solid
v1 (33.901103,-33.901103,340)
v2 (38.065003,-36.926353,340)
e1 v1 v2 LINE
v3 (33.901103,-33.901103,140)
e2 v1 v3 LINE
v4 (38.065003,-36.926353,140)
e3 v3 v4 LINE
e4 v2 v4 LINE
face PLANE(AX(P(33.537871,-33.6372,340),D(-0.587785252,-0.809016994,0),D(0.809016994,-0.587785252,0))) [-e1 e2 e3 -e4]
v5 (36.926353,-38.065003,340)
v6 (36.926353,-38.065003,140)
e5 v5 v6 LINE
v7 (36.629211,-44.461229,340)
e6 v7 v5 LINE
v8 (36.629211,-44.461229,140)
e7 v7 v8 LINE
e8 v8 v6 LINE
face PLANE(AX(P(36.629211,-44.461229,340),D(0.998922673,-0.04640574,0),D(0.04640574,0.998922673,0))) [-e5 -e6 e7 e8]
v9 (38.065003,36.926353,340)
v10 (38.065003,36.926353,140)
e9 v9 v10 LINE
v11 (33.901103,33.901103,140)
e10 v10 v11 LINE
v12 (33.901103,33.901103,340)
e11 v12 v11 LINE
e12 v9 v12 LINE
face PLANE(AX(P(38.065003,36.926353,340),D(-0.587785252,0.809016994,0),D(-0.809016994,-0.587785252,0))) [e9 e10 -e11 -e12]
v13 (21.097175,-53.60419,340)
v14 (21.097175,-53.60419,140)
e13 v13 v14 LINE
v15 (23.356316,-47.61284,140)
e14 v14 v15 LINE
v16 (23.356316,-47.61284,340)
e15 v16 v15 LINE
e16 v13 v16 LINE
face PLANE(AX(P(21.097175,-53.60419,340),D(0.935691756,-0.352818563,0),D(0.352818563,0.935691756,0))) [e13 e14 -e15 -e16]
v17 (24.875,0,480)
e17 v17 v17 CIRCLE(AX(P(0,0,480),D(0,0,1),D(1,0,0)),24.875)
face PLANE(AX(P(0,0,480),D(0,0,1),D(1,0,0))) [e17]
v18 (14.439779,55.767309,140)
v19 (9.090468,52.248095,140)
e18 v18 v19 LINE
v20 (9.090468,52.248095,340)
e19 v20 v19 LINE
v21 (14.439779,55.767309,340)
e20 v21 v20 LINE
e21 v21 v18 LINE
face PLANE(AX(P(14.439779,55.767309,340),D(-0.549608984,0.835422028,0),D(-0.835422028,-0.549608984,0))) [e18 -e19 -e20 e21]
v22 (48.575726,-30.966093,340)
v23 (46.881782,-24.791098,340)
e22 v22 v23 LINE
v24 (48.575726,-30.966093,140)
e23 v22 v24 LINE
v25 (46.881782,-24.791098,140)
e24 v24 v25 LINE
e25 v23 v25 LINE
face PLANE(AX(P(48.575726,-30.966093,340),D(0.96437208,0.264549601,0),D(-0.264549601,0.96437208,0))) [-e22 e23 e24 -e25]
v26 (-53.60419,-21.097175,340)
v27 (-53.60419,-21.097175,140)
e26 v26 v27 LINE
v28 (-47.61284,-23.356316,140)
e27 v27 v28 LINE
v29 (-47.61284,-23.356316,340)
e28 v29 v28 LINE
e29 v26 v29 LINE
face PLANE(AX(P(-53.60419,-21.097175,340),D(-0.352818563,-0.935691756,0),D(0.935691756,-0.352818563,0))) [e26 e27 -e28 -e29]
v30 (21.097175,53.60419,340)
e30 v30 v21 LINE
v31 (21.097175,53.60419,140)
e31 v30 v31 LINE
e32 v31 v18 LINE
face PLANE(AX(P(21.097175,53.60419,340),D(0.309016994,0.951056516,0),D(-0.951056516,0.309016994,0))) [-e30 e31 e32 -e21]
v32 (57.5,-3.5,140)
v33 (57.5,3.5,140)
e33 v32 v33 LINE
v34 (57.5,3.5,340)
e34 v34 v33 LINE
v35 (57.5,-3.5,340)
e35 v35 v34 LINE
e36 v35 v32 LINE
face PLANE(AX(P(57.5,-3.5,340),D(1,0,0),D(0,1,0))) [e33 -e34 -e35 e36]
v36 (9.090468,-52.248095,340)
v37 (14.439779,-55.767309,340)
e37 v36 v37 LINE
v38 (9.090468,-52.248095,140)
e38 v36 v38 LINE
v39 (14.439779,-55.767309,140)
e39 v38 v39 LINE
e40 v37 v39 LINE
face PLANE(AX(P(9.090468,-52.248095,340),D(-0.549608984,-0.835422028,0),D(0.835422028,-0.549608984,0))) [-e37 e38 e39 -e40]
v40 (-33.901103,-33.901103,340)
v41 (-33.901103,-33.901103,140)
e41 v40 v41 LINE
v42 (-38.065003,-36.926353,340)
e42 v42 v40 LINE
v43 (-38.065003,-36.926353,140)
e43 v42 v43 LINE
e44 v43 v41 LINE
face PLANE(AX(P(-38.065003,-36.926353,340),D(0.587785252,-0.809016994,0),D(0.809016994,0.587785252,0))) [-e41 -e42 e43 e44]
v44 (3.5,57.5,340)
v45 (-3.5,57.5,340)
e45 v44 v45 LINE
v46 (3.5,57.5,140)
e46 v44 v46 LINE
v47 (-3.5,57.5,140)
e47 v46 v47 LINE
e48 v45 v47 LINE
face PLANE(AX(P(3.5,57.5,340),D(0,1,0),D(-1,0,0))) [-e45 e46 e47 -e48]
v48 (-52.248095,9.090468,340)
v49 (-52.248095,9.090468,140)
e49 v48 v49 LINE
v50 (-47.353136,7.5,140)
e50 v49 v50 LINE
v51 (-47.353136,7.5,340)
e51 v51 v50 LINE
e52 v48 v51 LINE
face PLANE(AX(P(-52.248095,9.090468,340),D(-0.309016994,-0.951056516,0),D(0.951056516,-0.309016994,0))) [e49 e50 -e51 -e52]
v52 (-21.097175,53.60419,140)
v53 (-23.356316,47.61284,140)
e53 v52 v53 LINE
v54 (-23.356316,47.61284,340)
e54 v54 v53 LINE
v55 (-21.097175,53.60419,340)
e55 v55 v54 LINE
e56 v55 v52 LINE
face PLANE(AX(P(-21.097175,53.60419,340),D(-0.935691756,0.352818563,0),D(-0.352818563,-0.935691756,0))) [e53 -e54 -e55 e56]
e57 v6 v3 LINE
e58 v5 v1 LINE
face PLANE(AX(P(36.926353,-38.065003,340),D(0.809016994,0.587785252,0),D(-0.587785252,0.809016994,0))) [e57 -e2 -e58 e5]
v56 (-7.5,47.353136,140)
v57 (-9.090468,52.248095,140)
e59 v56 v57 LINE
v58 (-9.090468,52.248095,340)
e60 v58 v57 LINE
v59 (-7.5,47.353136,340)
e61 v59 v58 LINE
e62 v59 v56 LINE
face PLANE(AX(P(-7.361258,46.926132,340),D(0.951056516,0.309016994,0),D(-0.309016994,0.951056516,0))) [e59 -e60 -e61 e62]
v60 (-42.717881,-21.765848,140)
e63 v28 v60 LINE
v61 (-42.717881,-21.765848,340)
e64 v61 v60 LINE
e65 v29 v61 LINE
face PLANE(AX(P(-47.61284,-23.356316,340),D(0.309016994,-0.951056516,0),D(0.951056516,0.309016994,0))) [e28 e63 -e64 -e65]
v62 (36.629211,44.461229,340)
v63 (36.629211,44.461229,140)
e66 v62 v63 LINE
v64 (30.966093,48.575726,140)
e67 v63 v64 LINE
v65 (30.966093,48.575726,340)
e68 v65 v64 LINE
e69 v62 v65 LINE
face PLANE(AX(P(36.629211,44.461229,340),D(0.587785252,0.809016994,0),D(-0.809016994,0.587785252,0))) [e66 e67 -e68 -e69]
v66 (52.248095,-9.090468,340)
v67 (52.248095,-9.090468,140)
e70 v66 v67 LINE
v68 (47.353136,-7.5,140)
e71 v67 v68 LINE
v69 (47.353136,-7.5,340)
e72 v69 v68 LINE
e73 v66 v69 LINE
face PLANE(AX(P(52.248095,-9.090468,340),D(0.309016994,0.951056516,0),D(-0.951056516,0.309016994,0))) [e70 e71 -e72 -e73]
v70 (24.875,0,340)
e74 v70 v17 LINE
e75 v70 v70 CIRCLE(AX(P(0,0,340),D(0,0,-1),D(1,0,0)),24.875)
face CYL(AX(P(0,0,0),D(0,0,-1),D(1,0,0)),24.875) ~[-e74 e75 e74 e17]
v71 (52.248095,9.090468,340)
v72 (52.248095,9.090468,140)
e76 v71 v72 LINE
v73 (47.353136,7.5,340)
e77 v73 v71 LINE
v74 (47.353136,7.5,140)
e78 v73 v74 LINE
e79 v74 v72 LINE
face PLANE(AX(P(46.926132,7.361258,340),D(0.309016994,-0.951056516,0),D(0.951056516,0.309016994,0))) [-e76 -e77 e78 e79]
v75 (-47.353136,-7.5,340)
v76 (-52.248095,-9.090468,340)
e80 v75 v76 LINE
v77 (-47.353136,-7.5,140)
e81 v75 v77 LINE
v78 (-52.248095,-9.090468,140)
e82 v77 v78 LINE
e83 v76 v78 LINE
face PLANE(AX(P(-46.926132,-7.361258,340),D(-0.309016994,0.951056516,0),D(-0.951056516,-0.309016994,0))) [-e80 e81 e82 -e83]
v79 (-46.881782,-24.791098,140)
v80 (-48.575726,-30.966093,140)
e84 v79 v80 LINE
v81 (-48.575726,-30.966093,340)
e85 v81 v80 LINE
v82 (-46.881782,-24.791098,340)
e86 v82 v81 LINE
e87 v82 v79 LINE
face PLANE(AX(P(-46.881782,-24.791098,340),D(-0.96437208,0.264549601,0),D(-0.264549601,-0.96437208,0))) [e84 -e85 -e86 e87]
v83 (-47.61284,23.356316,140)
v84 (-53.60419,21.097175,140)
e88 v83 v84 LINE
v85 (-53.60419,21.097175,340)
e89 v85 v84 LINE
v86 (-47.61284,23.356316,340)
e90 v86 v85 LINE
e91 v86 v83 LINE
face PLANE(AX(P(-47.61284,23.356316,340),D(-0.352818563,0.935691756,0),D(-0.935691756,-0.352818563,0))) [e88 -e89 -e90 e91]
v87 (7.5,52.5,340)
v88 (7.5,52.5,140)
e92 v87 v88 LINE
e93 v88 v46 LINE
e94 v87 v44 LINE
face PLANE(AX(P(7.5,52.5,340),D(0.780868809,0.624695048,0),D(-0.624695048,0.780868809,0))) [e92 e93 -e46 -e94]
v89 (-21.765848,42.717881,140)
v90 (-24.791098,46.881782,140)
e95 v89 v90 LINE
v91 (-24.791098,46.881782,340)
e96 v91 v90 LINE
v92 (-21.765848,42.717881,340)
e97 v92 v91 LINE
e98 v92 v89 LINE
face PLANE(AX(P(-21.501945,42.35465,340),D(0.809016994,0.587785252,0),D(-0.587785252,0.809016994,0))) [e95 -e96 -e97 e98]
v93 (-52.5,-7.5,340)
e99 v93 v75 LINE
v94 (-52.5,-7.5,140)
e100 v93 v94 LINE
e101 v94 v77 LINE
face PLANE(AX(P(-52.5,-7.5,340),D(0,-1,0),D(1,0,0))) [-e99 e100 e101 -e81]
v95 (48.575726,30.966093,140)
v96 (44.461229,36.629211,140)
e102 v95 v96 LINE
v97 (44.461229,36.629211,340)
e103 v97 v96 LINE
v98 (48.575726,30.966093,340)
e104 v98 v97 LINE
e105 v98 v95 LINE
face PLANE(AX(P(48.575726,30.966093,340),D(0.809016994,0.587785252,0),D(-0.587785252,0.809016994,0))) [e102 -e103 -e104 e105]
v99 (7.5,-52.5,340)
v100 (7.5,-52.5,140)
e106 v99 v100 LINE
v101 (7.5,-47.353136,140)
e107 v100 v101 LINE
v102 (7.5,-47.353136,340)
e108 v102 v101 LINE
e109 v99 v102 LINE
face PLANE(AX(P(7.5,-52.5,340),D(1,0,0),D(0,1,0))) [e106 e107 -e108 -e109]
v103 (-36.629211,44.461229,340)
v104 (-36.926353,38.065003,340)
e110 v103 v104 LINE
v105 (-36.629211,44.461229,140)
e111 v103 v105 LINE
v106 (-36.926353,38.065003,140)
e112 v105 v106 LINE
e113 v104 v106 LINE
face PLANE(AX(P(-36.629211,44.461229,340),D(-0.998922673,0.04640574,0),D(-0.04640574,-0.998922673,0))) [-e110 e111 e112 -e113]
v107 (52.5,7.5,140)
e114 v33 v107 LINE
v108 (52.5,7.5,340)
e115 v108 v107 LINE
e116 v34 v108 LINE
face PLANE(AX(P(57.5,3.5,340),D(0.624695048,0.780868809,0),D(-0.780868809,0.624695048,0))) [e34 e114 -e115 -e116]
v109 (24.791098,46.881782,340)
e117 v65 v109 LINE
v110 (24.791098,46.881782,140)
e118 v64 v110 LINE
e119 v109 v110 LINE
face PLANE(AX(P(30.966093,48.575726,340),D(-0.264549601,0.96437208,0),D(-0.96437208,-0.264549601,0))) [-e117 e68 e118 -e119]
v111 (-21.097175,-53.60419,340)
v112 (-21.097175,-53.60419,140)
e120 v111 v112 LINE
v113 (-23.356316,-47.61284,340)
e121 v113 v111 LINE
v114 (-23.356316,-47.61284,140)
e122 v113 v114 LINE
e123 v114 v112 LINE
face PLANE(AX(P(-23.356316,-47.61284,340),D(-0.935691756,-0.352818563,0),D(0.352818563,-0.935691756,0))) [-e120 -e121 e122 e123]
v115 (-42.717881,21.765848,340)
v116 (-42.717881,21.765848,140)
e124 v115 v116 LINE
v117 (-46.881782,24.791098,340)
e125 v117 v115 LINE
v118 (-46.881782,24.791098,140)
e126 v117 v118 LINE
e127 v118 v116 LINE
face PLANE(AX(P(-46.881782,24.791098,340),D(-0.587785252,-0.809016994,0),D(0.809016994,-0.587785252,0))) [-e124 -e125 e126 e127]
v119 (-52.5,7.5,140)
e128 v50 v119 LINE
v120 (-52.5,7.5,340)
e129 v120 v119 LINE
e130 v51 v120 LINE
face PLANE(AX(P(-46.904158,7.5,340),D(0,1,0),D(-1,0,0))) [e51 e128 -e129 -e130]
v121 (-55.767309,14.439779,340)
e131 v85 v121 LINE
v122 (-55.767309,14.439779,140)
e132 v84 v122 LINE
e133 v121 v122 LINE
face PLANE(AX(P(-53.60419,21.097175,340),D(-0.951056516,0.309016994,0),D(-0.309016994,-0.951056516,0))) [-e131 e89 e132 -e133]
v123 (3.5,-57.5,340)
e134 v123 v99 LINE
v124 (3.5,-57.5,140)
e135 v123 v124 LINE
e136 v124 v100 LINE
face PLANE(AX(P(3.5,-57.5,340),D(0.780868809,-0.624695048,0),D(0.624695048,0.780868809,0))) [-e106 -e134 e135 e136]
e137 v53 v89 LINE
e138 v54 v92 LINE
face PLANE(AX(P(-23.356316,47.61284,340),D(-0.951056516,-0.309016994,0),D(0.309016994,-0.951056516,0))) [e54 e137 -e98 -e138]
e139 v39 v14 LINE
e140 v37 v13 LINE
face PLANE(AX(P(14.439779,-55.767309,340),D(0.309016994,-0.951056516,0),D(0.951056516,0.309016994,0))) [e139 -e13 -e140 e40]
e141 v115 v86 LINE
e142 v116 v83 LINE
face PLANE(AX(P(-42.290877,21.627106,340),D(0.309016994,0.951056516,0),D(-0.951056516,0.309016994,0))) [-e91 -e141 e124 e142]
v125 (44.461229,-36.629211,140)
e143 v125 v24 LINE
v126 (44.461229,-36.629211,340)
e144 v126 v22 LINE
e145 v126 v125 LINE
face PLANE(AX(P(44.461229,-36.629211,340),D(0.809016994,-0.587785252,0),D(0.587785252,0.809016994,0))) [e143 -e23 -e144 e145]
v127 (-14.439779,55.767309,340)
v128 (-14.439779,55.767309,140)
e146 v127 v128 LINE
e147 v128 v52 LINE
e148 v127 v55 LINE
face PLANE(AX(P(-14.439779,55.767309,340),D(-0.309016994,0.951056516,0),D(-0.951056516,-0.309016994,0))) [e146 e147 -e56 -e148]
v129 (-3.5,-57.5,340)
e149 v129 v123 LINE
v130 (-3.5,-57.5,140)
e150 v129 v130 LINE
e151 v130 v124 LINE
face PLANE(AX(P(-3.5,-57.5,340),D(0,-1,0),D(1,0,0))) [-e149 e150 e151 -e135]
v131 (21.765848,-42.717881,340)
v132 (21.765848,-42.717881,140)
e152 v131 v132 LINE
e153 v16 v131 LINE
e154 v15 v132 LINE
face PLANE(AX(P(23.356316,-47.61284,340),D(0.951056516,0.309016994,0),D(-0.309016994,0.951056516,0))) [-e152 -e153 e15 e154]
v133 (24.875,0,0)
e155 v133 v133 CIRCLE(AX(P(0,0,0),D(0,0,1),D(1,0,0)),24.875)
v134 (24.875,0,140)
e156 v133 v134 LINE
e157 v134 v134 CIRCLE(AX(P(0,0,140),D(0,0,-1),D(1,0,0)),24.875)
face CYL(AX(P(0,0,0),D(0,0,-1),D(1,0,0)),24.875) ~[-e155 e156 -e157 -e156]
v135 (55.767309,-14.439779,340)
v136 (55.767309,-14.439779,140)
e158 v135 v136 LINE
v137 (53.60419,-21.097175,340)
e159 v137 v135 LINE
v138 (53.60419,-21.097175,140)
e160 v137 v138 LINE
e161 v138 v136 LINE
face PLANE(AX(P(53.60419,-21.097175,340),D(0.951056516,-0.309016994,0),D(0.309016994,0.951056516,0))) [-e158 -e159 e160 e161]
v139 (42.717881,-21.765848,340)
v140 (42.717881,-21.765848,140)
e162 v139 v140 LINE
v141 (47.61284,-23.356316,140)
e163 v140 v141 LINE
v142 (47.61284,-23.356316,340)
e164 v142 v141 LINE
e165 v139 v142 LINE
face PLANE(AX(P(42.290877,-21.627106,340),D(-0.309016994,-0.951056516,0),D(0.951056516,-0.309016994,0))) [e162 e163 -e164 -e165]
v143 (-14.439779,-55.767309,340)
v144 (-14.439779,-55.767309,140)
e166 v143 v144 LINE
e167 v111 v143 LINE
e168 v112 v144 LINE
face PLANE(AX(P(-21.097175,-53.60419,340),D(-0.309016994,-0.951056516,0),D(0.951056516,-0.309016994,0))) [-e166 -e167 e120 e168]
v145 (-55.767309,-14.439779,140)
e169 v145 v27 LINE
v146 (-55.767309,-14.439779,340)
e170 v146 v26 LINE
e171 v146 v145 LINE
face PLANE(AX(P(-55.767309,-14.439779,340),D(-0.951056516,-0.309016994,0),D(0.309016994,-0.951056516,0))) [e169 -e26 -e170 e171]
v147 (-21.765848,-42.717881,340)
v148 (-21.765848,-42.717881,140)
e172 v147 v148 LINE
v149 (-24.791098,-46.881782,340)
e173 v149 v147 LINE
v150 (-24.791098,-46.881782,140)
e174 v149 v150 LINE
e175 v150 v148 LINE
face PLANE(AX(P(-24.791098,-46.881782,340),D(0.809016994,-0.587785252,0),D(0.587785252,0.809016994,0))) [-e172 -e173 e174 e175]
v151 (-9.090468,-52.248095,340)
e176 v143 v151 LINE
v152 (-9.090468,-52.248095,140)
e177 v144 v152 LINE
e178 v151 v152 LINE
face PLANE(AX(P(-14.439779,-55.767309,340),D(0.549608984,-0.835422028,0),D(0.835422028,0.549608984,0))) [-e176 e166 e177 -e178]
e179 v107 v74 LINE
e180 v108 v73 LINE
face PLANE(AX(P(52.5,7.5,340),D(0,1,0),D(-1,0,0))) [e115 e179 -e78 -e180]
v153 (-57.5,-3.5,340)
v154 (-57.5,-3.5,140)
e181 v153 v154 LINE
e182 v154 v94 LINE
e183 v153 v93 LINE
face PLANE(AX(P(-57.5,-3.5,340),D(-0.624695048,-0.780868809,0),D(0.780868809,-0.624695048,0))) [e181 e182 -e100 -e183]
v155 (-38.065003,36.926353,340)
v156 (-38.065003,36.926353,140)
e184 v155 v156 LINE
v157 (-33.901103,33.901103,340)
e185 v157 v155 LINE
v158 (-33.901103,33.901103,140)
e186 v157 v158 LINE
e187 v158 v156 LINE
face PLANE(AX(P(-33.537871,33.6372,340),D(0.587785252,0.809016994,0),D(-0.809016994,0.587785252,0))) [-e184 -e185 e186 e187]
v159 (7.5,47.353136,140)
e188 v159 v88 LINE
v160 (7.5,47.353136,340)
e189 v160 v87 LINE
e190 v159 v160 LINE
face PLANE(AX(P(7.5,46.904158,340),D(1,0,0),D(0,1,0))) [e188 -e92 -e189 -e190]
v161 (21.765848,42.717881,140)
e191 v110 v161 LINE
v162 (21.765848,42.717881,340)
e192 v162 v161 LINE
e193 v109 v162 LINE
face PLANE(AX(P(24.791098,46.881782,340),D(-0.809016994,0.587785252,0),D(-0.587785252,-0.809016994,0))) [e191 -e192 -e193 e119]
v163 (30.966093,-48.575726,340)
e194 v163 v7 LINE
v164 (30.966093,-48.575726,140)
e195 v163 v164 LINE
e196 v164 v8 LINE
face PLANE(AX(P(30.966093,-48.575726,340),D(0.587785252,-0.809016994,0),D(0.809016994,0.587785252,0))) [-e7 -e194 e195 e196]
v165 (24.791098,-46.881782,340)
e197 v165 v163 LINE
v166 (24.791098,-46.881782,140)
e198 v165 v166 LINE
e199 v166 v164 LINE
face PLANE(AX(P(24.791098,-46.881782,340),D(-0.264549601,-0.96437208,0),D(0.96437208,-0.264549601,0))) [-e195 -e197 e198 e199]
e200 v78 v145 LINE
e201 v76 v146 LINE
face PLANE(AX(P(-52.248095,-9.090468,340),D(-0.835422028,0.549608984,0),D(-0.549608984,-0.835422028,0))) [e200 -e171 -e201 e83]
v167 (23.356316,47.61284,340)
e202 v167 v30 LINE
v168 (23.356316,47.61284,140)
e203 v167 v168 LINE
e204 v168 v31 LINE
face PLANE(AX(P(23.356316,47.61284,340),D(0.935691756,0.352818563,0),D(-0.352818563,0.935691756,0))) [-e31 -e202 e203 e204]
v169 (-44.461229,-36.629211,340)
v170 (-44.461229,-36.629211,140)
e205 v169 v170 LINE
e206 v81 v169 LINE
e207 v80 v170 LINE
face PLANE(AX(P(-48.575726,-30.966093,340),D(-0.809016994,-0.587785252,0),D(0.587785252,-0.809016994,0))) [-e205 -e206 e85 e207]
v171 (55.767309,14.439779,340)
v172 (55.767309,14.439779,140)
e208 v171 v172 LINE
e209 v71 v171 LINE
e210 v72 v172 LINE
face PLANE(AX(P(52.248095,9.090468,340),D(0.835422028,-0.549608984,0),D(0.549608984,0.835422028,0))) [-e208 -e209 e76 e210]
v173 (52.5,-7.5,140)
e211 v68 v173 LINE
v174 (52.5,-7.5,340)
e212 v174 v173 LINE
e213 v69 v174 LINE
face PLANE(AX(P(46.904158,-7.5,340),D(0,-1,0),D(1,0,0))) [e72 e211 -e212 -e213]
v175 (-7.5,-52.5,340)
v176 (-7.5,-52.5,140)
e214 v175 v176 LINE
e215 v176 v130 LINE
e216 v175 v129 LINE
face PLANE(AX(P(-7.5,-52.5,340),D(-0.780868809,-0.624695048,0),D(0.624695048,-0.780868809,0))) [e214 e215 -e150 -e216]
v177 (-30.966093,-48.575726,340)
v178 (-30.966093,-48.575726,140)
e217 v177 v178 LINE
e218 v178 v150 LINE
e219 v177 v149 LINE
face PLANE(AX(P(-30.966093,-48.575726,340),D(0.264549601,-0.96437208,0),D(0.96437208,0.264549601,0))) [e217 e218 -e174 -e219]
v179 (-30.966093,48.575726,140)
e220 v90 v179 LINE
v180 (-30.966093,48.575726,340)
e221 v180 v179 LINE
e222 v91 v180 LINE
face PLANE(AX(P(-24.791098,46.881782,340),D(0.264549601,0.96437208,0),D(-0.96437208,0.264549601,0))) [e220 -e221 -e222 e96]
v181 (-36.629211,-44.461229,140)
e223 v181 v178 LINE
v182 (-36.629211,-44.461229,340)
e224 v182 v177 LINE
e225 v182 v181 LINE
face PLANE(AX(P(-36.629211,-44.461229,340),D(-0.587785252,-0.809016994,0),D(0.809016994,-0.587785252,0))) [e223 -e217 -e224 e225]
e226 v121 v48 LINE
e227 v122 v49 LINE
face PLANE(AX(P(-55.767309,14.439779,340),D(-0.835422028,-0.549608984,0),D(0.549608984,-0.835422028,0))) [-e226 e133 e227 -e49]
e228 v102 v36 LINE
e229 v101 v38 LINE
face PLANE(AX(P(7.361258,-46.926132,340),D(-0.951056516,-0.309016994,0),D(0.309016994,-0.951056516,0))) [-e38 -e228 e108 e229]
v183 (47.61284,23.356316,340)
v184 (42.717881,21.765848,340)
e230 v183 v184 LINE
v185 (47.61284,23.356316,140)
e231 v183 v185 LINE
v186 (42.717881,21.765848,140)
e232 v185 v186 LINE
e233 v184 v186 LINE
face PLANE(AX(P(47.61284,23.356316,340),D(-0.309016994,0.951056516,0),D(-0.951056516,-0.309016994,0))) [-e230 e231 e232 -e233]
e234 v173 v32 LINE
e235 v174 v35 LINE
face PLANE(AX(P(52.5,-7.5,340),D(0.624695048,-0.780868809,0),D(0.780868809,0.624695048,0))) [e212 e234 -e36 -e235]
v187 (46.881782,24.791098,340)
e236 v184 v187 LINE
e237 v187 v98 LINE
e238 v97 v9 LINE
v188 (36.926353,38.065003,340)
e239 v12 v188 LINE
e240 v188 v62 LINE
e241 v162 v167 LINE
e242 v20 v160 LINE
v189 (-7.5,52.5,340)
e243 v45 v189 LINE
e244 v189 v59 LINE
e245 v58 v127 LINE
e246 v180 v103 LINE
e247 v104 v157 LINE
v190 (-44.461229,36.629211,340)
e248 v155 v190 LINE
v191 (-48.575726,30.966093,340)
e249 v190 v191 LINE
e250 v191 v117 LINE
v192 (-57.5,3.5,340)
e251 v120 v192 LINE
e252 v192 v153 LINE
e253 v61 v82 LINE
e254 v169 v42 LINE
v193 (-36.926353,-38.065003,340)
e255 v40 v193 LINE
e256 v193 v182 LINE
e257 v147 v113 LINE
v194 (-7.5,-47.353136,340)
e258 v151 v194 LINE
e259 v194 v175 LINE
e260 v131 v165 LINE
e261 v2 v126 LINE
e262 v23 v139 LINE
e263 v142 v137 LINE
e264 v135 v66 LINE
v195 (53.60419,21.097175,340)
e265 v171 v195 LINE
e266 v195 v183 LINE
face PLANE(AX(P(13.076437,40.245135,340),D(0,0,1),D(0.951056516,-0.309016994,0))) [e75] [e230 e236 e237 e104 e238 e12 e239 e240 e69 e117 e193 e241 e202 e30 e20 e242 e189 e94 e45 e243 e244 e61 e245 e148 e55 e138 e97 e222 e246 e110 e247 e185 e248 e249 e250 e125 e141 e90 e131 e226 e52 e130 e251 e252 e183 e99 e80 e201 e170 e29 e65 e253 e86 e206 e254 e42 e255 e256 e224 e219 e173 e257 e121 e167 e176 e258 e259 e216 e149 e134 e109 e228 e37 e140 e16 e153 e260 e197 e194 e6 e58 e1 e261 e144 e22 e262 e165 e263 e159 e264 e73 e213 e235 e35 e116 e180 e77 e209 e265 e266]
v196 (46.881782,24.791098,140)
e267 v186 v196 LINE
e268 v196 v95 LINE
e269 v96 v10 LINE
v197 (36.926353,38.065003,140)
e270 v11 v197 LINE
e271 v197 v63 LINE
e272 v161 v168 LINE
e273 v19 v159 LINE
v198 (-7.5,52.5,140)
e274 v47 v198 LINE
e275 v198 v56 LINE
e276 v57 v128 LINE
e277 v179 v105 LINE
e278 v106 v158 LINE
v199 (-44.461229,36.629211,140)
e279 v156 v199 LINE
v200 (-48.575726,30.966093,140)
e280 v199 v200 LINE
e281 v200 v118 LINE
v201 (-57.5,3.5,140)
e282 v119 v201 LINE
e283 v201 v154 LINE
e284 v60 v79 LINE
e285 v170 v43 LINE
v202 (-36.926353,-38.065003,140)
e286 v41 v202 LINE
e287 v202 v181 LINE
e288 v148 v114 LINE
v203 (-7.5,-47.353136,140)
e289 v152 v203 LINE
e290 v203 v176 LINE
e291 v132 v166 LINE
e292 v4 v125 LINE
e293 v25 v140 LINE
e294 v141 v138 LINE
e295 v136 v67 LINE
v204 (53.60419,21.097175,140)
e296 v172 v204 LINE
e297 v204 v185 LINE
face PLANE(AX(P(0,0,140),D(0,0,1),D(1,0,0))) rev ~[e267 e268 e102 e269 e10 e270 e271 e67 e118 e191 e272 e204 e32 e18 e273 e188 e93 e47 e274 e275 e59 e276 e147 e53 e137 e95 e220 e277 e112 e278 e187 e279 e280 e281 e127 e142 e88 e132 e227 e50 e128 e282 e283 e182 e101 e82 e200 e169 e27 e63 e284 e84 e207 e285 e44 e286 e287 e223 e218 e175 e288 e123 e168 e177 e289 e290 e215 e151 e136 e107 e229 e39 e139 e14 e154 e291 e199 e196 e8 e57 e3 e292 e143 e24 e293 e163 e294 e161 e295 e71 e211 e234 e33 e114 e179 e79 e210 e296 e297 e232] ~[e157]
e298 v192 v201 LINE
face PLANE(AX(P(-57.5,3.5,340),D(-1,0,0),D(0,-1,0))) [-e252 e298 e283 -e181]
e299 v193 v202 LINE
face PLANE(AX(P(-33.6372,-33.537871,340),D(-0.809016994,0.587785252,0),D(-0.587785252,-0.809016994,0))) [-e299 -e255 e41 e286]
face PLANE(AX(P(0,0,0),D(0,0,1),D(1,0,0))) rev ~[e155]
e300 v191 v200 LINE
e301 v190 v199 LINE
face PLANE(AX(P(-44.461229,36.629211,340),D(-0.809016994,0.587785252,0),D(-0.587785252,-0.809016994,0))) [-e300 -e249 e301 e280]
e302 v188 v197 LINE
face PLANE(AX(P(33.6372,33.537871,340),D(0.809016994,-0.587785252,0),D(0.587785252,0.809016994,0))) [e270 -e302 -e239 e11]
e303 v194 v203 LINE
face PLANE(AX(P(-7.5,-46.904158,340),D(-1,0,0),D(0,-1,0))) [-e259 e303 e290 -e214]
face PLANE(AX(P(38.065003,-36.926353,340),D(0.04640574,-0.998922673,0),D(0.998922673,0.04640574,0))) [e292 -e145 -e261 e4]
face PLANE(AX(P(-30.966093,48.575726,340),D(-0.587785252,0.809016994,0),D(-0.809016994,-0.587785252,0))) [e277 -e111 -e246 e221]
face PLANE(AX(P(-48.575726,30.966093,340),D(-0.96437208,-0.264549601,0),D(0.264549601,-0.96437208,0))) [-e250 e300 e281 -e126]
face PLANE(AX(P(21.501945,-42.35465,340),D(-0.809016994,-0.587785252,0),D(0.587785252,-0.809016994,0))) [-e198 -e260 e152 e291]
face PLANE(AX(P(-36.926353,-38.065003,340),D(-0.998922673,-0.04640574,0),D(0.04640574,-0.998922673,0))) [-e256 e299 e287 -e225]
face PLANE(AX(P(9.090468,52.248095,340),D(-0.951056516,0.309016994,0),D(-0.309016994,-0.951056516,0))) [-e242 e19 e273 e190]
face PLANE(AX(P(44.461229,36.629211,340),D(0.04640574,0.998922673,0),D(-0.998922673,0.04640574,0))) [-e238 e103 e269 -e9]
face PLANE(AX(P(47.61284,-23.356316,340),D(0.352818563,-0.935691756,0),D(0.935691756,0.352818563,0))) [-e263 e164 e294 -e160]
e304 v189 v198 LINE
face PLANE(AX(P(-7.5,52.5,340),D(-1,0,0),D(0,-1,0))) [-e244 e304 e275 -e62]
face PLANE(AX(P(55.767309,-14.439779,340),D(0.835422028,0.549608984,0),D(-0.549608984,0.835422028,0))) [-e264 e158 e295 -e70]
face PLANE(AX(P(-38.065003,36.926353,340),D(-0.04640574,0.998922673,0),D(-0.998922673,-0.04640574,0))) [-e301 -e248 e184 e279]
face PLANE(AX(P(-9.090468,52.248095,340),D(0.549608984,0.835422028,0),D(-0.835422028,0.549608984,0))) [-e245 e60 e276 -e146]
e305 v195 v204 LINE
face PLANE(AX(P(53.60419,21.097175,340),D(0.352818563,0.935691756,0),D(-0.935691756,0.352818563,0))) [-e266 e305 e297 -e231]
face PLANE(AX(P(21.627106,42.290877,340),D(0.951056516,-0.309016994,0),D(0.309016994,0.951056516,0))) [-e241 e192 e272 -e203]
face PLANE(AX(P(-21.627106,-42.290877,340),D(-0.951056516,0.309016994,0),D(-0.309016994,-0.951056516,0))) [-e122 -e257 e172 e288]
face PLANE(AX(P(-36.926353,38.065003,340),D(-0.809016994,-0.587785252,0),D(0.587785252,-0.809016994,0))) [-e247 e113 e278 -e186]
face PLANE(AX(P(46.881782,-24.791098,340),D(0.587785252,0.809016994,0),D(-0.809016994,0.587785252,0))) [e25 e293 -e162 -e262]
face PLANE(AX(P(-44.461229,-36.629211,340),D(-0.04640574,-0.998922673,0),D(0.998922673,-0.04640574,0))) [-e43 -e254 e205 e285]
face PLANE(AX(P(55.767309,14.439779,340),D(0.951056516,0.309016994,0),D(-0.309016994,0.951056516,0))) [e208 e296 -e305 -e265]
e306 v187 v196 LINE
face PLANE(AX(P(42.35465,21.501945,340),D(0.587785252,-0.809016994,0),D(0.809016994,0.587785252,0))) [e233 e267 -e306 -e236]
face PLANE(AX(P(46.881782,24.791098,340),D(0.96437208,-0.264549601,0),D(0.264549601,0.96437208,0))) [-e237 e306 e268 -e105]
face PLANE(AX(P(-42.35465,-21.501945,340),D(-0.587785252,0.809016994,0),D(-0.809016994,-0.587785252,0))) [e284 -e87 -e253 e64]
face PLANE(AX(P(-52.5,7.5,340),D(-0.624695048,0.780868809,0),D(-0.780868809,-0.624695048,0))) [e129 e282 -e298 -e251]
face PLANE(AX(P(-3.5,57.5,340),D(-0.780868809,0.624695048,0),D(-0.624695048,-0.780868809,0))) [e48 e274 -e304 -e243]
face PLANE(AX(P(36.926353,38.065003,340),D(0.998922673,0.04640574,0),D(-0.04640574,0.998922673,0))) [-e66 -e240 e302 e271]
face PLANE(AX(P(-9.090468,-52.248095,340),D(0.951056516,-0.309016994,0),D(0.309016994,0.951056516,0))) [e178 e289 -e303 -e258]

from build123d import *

# Parameters (mm, degrees)
SKETCH1_R           = 24.875
BOSS_EXTRUDE1_DEPTH = 480
SKETCH4_R           = 47.5
BOSS_EXTRUDE2_DEPTH = 100
BOSS_EXTRUDE3_DEPTH = 200
CIRPATTERN1_COUNT   = 20


with BuildPart() as part:
    # Sketch1 → Boss-Extrude1 (new body)
    with BuildSketch(Plane.XY):
        Circle(SKETCH1_R)
    extrude(amount=BOSS_EXTRUDE1_DEPTH)

    # Sketch4 → Boss-Extrude2 (add, symmetric)
    with BuildSketch(Plane.XY.offset(240)):
        Circle(SKETCH4_R)
    extrude(amount=BOSS_EXTRUDE2_DEPTH, both=True)

    # Sketch5 → Boss-Extrude3 (add)
    with BuildSketch(Plane.XY.offset(340)):
        with BuildLine():
            ThreePointArc((7.5, 46.904157598), (0, 47.5), (-7.5, 46.904157598))
            Line((-7.5, 46.904157598), (-7.5, 37.5))
            Line((-7.5, 37.5), (7.5, 37.5))
            Line((7.5, 37.5), (7.5, 46.904157598))
        make_face()
        with BuildLine():
            Line((-7.5, 37.5), (-7.5, 46.904157598))
            ThreePointArc((-7.5, 46.904157598), (-30.822070015, -36.142080737), (47.5, 0))
            ThreePointArc((47.5, 0), (36.142080737, 30.822070015), (7.5, 46.904157598))
            Line((7.5, 46.904157598), (7.5, 37.5))
            Line((7.5, 37.5), (-7.5, 37.5))
        make_face()
        with BuildLine():
            Line((-3.5, 57.5), (-7.5, 52.5))
            Line((-7.5, 52.5), (-7.5, 46.904157598))
            ThreePointArc((-7.5, 46.904157598), (0, 47.5), (7.5, 46.904157598))
            Line((7.5, 46.904157598), (7.5, 52.5))
            Line((7.5, 52.5), (3.5, 57.5))
            Line((3.5, 57.5), (-3.5, 57.5))
        make_face()
    boss_extrude3 = extrude(amount=-BOSS_EXTRUDE3_DEPTH)

    # CirPattern1: Boss-Extrude3 ×20 about axis
    cirpattern1_axis = Axis((0, 0, 0), (0, 0, 1))
    for i in range(1, CIRPATTERN1_COUNT):
        add(boss_extrude3.rotate(cirpattern1_axis, i * 360 / CIRPATTERN1_COUNT))


solid = part.part
